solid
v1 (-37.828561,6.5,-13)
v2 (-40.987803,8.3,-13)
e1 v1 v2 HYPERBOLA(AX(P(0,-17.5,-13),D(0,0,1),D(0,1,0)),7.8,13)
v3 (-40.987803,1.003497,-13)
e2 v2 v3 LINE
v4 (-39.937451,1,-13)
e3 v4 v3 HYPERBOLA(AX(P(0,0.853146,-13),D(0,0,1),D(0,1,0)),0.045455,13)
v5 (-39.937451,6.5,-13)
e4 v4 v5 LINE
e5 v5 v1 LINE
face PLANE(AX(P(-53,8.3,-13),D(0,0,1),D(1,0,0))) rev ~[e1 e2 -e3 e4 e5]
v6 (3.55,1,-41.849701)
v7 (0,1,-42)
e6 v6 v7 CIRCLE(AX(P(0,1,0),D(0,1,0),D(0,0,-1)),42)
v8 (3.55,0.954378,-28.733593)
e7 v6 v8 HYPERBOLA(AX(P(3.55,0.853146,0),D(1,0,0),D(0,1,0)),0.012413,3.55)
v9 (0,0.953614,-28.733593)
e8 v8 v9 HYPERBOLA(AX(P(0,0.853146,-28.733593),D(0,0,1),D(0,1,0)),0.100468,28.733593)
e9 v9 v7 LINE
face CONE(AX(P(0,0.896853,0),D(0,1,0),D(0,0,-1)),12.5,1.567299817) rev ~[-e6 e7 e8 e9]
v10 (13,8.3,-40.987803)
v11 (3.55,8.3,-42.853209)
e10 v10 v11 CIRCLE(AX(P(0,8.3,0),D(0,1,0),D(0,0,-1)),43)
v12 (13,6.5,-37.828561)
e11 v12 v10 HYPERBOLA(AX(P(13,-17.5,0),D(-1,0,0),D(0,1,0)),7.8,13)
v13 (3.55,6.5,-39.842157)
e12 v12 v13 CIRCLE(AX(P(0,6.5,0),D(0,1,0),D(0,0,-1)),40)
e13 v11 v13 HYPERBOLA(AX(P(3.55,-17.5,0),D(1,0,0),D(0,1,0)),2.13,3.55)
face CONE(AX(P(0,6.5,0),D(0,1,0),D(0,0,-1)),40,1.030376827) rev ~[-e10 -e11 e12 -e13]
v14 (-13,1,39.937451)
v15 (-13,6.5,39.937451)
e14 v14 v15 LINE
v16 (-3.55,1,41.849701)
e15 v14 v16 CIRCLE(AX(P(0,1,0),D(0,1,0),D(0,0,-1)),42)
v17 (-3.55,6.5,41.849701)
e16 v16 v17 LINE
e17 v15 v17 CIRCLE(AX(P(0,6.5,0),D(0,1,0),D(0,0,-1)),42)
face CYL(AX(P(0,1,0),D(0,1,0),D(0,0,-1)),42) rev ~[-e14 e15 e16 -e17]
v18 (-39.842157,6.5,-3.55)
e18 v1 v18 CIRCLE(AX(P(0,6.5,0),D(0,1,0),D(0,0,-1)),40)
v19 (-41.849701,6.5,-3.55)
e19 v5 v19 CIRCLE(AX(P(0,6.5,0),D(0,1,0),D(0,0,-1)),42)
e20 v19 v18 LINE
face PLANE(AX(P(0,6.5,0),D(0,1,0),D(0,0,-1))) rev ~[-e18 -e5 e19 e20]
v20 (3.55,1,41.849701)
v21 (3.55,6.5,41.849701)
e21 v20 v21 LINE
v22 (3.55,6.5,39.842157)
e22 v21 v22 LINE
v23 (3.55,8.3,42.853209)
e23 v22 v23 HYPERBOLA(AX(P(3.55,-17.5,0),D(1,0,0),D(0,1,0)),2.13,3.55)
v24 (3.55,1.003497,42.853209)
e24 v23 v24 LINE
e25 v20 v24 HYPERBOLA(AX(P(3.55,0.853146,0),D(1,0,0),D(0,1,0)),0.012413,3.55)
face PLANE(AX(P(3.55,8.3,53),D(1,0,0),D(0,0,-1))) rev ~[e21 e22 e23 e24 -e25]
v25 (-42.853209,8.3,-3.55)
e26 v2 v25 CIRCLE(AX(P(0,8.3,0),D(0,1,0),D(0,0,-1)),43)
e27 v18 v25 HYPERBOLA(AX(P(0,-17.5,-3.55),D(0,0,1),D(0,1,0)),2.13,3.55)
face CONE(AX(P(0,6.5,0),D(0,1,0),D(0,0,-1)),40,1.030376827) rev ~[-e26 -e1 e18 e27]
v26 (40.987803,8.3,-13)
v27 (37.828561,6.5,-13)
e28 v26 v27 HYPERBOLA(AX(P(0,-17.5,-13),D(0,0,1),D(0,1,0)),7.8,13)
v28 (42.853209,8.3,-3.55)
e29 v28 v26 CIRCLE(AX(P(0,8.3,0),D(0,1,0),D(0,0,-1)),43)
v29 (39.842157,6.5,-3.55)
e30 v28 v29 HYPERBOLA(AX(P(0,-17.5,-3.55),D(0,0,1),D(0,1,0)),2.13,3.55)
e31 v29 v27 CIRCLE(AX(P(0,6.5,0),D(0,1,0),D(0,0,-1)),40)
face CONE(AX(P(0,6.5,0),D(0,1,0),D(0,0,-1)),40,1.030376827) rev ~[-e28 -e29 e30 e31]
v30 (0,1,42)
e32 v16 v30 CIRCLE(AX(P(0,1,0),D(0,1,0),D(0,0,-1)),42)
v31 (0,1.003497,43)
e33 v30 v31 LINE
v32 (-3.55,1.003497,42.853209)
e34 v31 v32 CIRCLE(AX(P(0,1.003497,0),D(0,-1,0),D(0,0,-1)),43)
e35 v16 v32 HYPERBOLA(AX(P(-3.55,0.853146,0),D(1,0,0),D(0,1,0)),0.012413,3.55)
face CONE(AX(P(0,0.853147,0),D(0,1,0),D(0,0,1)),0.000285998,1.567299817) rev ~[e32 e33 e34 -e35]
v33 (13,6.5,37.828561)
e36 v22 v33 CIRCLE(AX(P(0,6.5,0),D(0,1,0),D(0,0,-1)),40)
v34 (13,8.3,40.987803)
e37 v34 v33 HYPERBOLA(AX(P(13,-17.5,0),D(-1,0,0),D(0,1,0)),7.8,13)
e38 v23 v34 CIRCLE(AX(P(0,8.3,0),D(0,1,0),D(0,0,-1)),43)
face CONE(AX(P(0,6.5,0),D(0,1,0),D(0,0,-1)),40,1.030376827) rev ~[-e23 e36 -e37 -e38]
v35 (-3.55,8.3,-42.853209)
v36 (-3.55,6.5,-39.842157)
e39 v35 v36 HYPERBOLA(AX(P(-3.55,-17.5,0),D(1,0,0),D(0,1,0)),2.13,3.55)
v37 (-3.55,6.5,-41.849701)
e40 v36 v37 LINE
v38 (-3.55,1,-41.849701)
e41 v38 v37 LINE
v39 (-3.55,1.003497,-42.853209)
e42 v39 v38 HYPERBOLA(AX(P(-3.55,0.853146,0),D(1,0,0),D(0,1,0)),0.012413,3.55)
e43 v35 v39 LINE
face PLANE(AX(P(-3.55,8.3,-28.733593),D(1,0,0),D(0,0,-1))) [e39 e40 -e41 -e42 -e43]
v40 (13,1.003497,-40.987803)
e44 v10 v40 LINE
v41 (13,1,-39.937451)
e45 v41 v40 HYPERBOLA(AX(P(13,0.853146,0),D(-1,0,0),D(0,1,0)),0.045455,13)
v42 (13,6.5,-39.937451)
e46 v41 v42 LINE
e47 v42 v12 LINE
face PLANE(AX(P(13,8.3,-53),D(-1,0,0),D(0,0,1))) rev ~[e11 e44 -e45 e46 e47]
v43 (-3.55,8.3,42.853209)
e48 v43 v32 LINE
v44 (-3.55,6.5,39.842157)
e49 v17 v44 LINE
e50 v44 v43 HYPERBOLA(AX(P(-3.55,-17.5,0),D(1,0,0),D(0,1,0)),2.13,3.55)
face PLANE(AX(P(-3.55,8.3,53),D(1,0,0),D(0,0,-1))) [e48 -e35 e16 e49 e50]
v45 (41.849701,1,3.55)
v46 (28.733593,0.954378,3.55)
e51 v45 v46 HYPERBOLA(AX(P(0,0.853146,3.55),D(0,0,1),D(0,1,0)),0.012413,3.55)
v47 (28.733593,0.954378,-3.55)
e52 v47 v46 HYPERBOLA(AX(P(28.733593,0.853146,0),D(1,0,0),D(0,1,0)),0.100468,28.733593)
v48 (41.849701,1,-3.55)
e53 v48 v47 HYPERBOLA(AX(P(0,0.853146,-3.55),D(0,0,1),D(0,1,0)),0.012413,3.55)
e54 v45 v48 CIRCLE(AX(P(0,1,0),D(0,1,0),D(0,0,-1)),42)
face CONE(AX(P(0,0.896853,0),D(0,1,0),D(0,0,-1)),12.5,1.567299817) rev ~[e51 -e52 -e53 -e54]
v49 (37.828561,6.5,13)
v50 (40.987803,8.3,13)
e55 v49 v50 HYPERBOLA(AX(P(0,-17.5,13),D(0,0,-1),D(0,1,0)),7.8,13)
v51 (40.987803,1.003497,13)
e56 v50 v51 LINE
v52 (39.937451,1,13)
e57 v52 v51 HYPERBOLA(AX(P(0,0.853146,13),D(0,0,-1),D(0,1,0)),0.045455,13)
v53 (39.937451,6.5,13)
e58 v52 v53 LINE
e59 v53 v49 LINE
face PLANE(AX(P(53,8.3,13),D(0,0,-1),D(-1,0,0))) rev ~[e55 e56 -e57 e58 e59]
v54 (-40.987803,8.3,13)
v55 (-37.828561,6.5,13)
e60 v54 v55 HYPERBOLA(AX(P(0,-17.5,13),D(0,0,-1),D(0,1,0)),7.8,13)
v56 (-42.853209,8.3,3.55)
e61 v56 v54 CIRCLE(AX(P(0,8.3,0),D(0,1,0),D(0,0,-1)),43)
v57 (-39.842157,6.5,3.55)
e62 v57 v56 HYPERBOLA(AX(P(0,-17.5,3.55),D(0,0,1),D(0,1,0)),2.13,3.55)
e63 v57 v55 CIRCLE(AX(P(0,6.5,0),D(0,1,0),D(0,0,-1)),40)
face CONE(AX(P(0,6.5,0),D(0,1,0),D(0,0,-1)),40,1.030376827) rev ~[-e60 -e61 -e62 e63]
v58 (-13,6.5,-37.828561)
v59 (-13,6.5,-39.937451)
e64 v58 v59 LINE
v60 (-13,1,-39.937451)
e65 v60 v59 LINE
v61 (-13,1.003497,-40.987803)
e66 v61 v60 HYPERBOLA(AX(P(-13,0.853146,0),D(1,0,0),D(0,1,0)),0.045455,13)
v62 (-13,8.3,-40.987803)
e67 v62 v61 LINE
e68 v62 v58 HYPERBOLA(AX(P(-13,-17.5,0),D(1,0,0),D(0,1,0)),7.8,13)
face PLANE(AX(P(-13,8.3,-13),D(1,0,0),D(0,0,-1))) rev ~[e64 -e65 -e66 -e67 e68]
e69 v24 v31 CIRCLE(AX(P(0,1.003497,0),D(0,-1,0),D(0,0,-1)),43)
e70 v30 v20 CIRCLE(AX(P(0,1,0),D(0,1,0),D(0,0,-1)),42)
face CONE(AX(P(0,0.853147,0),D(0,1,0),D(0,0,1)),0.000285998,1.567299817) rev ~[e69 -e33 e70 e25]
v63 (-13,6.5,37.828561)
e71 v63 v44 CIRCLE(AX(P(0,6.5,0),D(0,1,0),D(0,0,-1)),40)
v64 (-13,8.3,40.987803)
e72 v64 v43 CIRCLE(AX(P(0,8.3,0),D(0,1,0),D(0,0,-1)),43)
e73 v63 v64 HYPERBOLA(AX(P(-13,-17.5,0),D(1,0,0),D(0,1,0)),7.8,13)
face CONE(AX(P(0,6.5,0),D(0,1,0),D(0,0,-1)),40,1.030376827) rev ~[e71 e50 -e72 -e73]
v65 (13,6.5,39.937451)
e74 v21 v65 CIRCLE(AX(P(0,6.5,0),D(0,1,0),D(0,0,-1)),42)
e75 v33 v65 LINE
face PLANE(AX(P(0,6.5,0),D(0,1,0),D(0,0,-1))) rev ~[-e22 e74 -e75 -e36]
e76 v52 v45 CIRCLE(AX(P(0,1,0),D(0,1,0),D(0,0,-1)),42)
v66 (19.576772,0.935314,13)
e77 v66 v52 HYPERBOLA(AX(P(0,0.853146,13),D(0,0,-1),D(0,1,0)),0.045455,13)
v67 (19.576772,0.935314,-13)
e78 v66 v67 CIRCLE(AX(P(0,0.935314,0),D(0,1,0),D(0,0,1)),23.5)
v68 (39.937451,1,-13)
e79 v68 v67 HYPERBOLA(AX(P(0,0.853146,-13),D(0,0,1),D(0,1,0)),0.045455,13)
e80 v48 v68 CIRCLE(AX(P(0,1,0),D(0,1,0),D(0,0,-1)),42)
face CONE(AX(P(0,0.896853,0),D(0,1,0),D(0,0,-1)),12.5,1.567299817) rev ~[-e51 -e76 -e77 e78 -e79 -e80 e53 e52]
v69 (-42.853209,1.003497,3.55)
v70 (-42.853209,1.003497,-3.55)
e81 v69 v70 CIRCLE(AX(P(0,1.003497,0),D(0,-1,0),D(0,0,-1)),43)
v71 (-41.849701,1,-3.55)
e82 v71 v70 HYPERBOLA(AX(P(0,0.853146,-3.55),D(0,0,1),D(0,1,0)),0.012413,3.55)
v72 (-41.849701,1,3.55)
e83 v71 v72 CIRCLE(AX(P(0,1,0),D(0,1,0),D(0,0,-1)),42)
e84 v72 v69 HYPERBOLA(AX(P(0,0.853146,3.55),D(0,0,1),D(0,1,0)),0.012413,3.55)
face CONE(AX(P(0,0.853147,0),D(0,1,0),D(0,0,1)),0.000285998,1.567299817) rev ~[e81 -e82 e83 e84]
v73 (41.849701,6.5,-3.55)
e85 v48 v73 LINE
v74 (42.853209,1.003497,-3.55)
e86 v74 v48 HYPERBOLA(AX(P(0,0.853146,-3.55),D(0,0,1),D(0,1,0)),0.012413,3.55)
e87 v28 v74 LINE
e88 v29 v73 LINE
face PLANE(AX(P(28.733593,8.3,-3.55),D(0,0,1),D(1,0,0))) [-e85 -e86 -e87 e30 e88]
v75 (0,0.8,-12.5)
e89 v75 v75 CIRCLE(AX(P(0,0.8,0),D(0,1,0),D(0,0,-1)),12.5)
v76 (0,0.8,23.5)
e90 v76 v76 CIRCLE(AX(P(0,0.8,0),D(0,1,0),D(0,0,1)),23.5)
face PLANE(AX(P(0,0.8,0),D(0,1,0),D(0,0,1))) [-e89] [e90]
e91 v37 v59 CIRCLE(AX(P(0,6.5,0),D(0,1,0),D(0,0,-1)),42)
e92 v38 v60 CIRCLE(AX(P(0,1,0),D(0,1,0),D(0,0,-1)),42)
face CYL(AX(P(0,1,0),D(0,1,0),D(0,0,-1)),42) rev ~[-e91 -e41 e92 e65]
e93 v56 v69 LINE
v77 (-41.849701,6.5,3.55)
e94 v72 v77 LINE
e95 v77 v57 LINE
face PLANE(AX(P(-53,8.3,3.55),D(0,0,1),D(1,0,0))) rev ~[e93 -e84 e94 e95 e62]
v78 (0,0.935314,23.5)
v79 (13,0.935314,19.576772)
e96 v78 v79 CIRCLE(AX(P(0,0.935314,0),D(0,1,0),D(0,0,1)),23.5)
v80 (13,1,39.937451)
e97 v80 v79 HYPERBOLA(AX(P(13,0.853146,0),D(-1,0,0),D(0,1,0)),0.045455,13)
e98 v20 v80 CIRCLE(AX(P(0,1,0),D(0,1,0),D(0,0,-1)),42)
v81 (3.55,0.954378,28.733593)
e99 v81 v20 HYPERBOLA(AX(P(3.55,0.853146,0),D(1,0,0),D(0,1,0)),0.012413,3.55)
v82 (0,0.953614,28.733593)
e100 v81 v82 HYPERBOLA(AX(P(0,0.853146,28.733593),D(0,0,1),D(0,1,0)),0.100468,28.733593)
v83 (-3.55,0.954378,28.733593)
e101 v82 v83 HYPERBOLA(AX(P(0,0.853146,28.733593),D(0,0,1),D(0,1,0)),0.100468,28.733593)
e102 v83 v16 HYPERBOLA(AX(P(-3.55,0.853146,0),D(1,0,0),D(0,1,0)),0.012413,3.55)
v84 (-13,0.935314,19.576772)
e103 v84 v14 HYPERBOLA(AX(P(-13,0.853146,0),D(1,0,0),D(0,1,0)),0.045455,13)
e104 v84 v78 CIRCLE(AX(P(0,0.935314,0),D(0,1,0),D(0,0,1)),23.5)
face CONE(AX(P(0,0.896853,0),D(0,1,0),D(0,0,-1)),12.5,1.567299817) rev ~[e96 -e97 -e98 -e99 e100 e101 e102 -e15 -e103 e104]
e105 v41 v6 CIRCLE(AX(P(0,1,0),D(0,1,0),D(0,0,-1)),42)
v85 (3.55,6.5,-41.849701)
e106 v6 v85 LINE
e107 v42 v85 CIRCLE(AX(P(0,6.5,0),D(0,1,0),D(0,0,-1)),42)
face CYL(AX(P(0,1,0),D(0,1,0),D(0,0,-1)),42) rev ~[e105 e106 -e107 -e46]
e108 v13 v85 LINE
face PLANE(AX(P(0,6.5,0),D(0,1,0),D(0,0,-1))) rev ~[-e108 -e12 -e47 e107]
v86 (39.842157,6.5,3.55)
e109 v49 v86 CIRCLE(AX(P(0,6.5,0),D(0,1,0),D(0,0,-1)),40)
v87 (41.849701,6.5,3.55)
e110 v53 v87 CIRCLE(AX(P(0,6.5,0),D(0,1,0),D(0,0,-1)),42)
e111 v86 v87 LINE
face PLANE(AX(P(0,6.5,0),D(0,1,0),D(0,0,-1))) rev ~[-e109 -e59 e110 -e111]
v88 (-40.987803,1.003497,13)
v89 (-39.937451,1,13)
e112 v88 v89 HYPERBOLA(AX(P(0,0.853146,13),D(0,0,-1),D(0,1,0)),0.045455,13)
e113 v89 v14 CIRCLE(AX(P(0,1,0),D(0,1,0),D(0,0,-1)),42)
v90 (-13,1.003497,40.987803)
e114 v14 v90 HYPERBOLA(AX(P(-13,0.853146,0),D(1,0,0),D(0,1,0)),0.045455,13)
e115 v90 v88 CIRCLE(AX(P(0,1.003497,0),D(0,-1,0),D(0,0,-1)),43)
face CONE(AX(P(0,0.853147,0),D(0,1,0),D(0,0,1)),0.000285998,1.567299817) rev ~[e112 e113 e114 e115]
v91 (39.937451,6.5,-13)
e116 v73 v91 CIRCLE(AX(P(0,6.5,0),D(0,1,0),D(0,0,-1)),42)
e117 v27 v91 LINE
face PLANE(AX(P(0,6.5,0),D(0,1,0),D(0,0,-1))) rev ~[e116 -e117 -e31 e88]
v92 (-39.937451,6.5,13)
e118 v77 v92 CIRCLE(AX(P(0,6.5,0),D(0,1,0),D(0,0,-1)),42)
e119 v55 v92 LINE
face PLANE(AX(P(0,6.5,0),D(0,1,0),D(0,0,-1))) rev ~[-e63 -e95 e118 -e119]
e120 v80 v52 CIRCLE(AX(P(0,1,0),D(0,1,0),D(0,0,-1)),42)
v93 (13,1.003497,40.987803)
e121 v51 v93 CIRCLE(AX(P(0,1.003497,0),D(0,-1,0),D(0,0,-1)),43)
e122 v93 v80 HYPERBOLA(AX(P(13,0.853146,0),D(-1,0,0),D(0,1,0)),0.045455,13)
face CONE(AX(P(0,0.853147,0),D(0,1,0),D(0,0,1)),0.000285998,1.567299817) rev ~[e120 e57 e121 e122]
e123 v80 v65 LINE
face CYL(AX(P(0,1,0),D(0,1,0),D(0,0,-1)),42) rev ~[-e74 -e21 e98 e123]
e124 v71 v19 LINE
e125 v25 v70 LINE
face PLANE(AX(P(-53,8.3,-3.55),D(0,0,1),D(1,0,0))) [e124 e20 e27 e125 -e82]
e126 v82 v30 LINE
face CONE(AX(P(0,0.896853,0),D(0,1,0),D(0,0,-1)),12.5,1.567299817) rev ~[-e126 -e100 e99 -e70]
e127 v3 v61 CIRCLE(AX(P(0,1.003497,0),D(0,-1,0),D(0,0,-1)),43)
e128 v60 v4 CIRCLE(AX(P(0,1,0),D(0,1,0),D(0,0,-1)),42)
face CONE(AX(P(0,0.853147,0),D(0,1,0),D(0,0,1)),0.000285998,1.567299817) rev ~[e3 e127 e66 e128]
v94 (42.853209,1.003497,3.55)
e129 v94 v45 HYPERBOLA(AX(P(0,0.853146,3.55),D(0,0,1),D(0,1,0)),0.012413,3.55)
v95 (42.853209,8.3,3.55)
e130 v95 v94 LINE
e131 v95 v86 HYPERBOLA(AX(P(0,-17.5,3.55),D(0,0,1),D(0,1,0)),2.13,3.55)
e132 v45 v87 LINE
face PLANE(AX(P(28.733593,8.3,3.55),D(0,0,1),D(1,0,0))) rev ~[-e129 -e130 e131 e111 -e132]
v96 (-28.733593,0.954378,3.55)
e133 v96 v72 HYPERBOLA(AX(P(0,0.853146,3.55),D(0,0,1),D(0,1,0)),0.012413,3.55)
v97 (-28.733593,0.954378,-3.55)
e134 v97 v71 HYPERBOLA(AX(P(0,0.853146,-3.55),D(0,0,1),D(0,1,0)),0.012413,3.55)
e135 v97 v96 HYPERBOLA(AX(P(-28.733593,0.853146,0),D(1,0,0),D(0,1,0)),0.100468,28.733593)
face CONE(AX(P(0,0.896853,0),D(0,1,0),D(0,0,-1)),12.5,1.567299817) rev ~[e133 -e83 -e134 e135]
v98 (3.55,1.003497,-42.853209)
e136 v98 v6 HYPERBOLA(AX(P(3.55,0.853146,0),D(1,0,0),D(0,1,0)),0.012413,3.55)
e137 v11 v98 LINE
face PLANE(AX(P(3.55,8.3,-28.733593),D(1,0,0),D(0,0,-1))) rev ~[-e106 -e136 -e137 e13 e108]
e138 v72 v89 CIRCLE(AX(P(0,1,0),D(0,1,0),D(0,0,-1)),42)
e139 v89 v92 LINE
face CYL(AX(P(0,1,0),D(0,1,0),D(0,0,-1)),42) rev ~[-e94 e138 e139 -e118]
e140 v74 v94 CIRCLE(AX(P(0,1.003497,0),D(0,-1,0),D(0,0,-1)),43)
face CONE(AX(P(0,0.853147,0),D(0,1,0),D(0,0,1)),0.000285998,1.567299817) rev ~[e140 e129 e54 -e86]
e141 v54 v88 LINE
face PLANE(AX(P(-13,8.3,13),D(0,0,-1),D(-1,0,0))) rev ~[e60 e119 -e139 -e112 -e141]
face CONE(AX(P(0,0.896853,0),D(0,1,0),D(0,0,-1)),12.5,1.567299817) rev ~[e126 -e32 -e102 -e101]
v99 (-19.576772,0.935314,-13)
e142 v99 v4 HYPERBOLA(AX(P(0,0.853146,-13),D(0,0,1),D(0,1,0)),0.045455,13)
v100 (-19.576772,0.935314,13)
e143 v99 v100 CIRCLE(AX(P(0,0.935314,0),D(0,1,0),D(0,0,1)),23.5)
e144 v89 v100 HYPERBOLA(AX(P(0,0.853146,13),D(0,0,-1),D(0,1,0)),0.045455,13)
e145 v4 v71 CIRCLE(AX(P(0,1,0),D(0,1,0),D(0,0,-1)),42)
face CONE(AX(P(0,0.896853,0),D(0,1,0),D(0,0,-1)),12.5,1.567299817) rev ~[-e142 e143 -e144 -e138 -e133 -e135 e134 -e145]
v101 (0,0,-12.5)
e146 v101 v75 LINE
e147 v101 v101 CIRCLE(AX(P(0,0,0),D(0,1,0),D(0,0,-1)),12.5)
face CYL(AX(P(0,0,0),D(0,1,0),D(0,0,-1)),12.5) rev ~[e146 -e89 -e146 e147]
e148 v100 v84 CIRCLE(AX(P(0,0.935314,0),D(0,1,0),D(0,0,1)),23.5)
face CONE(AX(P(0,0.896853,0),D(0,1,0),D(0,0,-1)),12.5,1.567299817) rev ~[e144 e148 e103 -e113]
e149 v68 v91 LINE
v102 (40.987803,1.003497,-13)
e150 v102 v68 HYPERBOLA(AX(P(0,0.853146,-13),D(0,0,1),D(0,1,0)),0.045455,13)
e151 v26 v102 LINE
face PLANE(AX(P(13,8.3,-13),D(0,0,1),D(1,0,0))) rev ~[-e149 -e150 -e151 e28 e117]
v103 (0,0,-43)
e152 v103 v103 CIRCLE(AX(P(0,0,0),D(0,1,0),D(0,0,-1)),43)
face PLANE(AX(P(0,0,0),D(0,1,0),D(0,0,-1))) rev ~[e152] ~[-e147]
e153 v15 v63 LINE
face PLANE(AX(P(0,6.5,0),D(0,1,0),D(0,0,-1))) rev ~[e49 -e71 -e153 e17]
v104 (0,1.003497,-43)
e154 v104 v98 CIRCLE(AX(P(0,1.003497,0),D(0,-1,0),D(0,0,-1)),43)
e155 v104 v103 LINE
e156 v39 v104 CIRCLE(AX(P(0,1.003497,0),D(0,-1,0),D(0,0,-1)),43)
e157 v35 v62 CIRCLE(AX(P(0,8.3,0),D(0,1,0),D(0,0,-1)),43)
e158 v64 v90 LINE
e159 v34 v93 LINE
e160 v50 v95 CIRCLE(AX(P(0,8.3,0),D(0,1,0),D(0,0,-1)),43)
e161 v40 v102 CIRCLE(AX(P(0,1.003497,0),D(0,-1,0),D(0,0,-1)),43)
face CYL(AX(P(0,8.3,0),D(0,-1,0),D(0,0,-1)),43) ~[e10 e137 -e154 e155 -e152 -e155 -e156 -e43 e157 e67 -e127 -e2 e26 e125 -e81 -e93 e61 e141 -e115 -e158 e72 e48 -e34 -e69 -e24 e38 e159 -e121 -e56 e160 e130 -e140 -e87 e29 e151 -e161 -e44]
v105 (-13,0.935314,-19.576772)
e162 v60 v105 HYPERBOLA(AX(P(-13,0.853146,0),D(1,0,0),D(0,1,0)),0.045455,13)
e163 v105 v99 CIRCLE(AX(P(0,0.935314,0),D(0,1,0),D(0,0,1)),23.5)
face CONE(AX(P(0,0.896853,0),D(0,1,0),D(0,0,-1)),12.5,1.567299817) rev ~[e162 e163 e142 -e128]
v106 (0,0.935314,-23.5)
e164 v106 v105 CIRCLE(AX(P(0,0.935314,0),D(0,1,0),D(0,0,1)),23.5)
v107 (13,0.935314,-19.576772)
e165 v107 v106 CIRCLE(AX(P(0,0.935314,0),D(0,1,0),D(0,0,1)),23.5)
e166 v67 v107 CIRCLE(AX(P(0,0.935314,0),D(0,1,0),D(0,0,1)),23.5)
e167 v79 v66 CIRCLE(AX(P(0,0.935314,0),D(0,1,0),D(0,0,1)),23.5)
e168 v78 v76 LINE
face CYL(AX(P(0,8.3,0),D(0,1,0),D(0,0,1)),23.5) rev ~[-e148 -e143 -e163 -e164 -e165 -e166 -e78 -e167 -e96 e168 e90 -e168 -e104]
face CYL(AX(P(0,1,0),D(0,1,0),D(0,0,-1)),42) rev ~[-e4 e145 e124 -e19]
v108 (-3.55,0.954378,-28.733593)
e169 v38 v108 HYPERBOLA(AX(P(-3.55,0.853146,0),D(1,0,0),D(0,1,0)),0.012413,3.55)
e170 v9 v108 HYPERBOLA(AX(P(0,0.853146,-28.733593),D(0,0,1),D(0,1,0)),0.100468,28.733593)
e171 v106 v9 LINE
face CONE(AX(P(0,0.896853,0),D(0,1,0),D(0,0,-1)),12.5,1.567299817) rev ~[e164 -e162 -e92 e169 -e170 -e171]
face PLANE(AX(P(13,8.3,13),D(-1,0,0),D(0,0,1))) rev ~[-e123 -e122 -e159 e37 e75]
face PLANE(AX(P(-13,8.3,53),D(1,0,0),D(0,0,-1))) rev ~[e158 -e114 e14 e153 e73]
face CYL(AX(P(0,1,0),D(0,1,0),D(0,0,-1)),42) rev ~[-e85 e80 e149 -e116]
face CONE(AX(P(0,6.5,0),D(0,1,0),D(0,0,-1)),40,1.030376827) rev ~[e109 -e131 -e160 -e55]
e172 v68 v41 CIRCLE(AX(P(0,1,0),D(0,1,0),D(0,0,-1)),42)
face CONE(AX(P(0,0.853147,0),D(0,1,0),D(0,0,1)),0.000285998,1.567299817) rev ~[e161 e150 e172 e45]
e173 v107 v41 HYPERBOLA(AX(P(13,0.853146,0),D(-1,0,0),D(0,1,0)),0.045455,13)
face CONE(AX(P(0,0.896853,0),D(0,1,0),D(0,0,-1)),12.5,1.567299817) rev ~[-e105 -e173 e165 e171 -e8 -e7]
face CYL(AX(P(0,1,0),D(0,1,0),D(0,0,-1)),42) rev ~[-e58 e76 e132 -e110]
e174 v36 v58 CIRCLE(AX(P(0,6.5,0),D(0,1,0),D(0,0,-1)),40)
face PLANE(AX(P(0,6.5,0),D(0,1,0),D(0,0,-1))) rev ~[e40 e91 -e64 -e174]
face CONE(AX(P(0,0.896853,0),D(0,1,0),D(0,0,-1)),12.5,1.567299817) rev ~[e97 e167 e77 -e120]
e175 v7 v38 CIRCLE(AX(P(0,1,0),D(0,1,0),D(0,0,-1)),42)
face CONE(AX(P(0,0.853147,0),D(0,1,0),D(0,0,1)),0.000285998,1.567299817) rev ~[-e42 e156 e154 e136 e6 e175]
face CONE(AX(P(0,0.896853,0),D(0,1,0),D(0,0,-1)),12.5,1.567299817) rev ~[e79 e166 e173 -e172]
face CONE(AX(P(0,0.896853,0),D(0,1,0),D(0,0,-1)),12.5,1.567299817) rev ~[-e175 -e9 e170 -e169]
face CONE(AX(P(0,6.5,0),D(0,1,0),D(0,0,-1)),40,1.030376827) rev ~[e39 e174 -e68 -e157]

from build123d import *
from build123d.topology import SkipClean

# Parameters (mm, degrees)
CUT_EXTRUDE_1_REACH = 63.375
SKETCH_3_W          = 7.1
SKETCH_3_H          = 24.266407169
SKETCH_3_W_2        = 24.266407169
SKETCH_3_H_2        = 7.1
SKETCH_4_R          = 23.5
CUT_EXTRUDE_2_DEPTH = 7.5


with BuildPart() as part:
    # Эскиз2 → Повернуть1 (revolve)
    with BuildSketch(Plane.XY, mode=Mode.PRIVATE) as revolve_1_sk:
        Polygon((12.5, 0), (12.5, 0.896852554), (42, 1), (42, 6.5), (40, 6.5), (43, 8.3), (43, 0), align=None)
    revolve(revolve_1_sk.sketch.rotate(Axis((0, -20.602437041, 0), (0, 1, 0)), 90), axis=Axis((0, -20.602437041, 0), (0, 1, 0)))

    # Вырез-Вытянуть1: up to this cone (the profile starts inside it)
    with SkipClean():  # the faces are left unmerged after this step: merging them gives an invalid solid
        cut_extrude_1_end = Plane(origin=(0, 8.3, 0), z_dir=(0, 1, 0)).offset(-7.446852991) * Cone(0.000285998, 629513.797627356, 2201.109848989, align=(Align.CENTER, Align.CENTER, Align.MIN), mode=Mode.PRIVATE)
        # Эскиз3 → Вырез-Вытянуть1 (cut, up to the surface)
        with BuildSketch(Plane(origin=(0, 8.3, 0), x_dir=(1, 0, 0), z_dir=(0, 1, 0)), mode=Mode.PRIVATE) as cut_extrude_1_sk1:
            Polygon((-13, -13), (-53, -13), (-13, -53), align=None)
        cut_extrude_1_tool1 = extrude(cut_extrude_1_sk1.sketch, amount=-CUT_EXTRUDE_1_REACH, mode=Mode.PRIVATE) & cut_extrude_1_end
        add(cut_extrude_1_tool1.solids().sort_by_distance((-26.333333, 8.3, 26.333333))[0], mode=Mode.SUBTRACT)
        # Эскиз3 → Вырез-Вытянуть1 (cut, up to the surface)
        with BuildSketch(Plane(origin=(0, 8.3, 0), x_dir=(1, 0, 0), z_dir=(0, 1, 0)), mode=Mode.PRIVATE) as cut_extrude_1_sk2:
            Polygon((-13, 13), (-13, 53), (-53, 13), align=None)
        cut_extrude_1_tool2 = extrude(cut_extrude_1_sk2.sketch, amount=-CUT_EXTRUDE_1_REACH, mode=Mode.PRIVATE) & cut_extrude_1_end
        add(cut_extrude_1_tool2.solids().sort_by_distance((-26.333333, 8.3, -26.333333))[0], mode=Mode.SUBTRACT)
        # Эскиз3 → Вырез-Вытянуть1 (cut, up to the surface)
        with BuildSketch(Plane(origin=(0, 8.3, 0), x_dir=(1, 0, 0), z_dir=(0, 1, 0)), mode=Mode.PRIVATE) as cut_extrude_1_sk3:
            Polygon((13, 13), (53, 13), (13, 53), align=None)
        cut_extrude_1_tool3 = extrude(cut_extrude_1_sk3.sketch, amount=-CUT_EXTRUDE_1_REACH, mode=Mode.PRIVATE) & cut_extrude_1_end
        add(cut_extrude_1_tool3.solids().sort_by_distance((26.333333, 8.3, -26.333333))[0], mode=Mode.SUBTRACT)
        # Эскиз3 → Вырез-Вытянуть1 (cut, up to the surface)
        with BuildSketch(Plane(origin=(0, 8.3, 0), x_dir=(1, 0, 0), z_dir=(0, 1, 0)), mode=Mode.PRIVATE) as cut_extrude_1_sk4:
            Polygon((13, -13), (13, -53), (53, -13), align=None)
        cut_extrude_1_tool4 = extrude(cut_extrude_1_sk4.sketch, amount=-CUT_EXTRUDE_1_REACH, mode=Mode.PRIVATE) & cut_extrude_1_end
        add(cut_extrude_1_tool4.solids().sort_by_distance((26.333333, 8.3, 26.333333))[0], mode=Mode.SUBTRACT)
        # Эскиз3 → Вырез-Вытянуть1 (cut, up to the surface)
        with BuildSketch(Plane(origin=(0, 8.3, 0), x_dir=(1, 0, 0), z_dir=(0, 1, 0)), mode=Mode.PRIVATE) as cut_extrude_1_sk5:
            with Locations((0, 40.866796416)):
                Rectangle(SKETCH_3_W, SKETCH_3_H)
        cut_extrude_1_tool5 = extrude(cut_extrude_1_sk5.sketch, amount=-CUT_EXTRUDE_1_REACH, mode=Mode.PRIVATE) & cut_extrude_1_end
        add(cut_extrude_1_tool5.solids().sort_by_distance((0, 8.3, -40.866796))[0], mode=Mode.SUBTRACT)
        # Эскиз3 → Вырез-Вытянуть1 (cut, up to the surface)
        with BuildSketch(Plane(origin=(0, 8.3, 0), x_dir=(1, 0, 0), z_dir=(0, 1, 0)), mode=Mode.PRIVATE) as cut_extrude_1_sk6:
            with Locations((-40.866796416, 0)):
                Rectangle(SKETCH_3_W_2, SKETCH_3_H_2)
        cut_extrude_1_tool6 = extrude(cut_extrude_1_sk6.sketch, amount=-CUT_EXTRUDE_1_REACH, mode=Mode.PRIVATE) & cut_extrude_1_end
        add(cut_extrude_1_tool6.solids().sort_by_distance((-40.866796, 8.3, 0))[0], mode=Mode.SUBTRACT)
        # Эскиз3 → Вырез-Вытянуть1 (cut, up to the surface)
        with BuildSketch(Plane(origin=(0, 8.3, 0), x_dir=(1, 0, 0), z_dir=(0, 1, 0)), mode=Mode.PRIVATE) as cut_extrude_1_sk7:
            with Locations((40.866796416, 0)):
                Rectangle(SKETCH_3_W_2, SKETCH_3_H_2)
        cut_extrude_1_tool7 = extrude(cut_extrude_1_sk7.sketch, amount=-CUT_EXTRUDE_1_REACH, mode=Mode.PRIVATE) & cut_extrude_1_end
        add(cut_extrude_1_tool7.solids().sort_by_distance((40.866796, 8.3, 0))[0], mode=Mode.SUBTRACT)
        # Эскиз3 → Вырез-Вытянуть1 (cut, up to the surface)
        with BuildSketch(Plane(origin=(0, 8.3, 0), x_dir=(1, 0, 0), z_dir=(0, 1, 0)), mode=Mode.PRIVATE) as cut_extrude_1_sk8:
            with Locations((0, -40.866796416)):
                Rectangle(SKETCH_3_W, SKETCH_3_H)
        cut_extrude_1_tool8 = extrude(cut_extrude_1_sk8.sketch, amount=-CUT_EXTRUDE_1_REACH, mode=Mode.PRIVATE) & cut_extrude_1_end
        add(cut_extrude_1_tool8.solids().sort_by_distance((0, 8.3, 40.866796))[0], mode=Mode.SUBTRACT)

    # Эскиз4 → Вырез-Вытянуть2 (cut)
    with SkipClean():  # the faces are left unmerged after this step: merging them gives an invalid solid
        with BuildSketch(Plane(origin=(0, 8.3, 0), x_dir=(1, 0, 0), z_dir=(0, 1, 0))):
            with Locations(Location((0, 0, 0), (0, 0, 270))):
                Circle(SKETCH_4_R)
        extrude(amount=-CUT_EXTRUDE_2_DEPTH, mode=Mode.SUBTRACT)


solid = part.part
